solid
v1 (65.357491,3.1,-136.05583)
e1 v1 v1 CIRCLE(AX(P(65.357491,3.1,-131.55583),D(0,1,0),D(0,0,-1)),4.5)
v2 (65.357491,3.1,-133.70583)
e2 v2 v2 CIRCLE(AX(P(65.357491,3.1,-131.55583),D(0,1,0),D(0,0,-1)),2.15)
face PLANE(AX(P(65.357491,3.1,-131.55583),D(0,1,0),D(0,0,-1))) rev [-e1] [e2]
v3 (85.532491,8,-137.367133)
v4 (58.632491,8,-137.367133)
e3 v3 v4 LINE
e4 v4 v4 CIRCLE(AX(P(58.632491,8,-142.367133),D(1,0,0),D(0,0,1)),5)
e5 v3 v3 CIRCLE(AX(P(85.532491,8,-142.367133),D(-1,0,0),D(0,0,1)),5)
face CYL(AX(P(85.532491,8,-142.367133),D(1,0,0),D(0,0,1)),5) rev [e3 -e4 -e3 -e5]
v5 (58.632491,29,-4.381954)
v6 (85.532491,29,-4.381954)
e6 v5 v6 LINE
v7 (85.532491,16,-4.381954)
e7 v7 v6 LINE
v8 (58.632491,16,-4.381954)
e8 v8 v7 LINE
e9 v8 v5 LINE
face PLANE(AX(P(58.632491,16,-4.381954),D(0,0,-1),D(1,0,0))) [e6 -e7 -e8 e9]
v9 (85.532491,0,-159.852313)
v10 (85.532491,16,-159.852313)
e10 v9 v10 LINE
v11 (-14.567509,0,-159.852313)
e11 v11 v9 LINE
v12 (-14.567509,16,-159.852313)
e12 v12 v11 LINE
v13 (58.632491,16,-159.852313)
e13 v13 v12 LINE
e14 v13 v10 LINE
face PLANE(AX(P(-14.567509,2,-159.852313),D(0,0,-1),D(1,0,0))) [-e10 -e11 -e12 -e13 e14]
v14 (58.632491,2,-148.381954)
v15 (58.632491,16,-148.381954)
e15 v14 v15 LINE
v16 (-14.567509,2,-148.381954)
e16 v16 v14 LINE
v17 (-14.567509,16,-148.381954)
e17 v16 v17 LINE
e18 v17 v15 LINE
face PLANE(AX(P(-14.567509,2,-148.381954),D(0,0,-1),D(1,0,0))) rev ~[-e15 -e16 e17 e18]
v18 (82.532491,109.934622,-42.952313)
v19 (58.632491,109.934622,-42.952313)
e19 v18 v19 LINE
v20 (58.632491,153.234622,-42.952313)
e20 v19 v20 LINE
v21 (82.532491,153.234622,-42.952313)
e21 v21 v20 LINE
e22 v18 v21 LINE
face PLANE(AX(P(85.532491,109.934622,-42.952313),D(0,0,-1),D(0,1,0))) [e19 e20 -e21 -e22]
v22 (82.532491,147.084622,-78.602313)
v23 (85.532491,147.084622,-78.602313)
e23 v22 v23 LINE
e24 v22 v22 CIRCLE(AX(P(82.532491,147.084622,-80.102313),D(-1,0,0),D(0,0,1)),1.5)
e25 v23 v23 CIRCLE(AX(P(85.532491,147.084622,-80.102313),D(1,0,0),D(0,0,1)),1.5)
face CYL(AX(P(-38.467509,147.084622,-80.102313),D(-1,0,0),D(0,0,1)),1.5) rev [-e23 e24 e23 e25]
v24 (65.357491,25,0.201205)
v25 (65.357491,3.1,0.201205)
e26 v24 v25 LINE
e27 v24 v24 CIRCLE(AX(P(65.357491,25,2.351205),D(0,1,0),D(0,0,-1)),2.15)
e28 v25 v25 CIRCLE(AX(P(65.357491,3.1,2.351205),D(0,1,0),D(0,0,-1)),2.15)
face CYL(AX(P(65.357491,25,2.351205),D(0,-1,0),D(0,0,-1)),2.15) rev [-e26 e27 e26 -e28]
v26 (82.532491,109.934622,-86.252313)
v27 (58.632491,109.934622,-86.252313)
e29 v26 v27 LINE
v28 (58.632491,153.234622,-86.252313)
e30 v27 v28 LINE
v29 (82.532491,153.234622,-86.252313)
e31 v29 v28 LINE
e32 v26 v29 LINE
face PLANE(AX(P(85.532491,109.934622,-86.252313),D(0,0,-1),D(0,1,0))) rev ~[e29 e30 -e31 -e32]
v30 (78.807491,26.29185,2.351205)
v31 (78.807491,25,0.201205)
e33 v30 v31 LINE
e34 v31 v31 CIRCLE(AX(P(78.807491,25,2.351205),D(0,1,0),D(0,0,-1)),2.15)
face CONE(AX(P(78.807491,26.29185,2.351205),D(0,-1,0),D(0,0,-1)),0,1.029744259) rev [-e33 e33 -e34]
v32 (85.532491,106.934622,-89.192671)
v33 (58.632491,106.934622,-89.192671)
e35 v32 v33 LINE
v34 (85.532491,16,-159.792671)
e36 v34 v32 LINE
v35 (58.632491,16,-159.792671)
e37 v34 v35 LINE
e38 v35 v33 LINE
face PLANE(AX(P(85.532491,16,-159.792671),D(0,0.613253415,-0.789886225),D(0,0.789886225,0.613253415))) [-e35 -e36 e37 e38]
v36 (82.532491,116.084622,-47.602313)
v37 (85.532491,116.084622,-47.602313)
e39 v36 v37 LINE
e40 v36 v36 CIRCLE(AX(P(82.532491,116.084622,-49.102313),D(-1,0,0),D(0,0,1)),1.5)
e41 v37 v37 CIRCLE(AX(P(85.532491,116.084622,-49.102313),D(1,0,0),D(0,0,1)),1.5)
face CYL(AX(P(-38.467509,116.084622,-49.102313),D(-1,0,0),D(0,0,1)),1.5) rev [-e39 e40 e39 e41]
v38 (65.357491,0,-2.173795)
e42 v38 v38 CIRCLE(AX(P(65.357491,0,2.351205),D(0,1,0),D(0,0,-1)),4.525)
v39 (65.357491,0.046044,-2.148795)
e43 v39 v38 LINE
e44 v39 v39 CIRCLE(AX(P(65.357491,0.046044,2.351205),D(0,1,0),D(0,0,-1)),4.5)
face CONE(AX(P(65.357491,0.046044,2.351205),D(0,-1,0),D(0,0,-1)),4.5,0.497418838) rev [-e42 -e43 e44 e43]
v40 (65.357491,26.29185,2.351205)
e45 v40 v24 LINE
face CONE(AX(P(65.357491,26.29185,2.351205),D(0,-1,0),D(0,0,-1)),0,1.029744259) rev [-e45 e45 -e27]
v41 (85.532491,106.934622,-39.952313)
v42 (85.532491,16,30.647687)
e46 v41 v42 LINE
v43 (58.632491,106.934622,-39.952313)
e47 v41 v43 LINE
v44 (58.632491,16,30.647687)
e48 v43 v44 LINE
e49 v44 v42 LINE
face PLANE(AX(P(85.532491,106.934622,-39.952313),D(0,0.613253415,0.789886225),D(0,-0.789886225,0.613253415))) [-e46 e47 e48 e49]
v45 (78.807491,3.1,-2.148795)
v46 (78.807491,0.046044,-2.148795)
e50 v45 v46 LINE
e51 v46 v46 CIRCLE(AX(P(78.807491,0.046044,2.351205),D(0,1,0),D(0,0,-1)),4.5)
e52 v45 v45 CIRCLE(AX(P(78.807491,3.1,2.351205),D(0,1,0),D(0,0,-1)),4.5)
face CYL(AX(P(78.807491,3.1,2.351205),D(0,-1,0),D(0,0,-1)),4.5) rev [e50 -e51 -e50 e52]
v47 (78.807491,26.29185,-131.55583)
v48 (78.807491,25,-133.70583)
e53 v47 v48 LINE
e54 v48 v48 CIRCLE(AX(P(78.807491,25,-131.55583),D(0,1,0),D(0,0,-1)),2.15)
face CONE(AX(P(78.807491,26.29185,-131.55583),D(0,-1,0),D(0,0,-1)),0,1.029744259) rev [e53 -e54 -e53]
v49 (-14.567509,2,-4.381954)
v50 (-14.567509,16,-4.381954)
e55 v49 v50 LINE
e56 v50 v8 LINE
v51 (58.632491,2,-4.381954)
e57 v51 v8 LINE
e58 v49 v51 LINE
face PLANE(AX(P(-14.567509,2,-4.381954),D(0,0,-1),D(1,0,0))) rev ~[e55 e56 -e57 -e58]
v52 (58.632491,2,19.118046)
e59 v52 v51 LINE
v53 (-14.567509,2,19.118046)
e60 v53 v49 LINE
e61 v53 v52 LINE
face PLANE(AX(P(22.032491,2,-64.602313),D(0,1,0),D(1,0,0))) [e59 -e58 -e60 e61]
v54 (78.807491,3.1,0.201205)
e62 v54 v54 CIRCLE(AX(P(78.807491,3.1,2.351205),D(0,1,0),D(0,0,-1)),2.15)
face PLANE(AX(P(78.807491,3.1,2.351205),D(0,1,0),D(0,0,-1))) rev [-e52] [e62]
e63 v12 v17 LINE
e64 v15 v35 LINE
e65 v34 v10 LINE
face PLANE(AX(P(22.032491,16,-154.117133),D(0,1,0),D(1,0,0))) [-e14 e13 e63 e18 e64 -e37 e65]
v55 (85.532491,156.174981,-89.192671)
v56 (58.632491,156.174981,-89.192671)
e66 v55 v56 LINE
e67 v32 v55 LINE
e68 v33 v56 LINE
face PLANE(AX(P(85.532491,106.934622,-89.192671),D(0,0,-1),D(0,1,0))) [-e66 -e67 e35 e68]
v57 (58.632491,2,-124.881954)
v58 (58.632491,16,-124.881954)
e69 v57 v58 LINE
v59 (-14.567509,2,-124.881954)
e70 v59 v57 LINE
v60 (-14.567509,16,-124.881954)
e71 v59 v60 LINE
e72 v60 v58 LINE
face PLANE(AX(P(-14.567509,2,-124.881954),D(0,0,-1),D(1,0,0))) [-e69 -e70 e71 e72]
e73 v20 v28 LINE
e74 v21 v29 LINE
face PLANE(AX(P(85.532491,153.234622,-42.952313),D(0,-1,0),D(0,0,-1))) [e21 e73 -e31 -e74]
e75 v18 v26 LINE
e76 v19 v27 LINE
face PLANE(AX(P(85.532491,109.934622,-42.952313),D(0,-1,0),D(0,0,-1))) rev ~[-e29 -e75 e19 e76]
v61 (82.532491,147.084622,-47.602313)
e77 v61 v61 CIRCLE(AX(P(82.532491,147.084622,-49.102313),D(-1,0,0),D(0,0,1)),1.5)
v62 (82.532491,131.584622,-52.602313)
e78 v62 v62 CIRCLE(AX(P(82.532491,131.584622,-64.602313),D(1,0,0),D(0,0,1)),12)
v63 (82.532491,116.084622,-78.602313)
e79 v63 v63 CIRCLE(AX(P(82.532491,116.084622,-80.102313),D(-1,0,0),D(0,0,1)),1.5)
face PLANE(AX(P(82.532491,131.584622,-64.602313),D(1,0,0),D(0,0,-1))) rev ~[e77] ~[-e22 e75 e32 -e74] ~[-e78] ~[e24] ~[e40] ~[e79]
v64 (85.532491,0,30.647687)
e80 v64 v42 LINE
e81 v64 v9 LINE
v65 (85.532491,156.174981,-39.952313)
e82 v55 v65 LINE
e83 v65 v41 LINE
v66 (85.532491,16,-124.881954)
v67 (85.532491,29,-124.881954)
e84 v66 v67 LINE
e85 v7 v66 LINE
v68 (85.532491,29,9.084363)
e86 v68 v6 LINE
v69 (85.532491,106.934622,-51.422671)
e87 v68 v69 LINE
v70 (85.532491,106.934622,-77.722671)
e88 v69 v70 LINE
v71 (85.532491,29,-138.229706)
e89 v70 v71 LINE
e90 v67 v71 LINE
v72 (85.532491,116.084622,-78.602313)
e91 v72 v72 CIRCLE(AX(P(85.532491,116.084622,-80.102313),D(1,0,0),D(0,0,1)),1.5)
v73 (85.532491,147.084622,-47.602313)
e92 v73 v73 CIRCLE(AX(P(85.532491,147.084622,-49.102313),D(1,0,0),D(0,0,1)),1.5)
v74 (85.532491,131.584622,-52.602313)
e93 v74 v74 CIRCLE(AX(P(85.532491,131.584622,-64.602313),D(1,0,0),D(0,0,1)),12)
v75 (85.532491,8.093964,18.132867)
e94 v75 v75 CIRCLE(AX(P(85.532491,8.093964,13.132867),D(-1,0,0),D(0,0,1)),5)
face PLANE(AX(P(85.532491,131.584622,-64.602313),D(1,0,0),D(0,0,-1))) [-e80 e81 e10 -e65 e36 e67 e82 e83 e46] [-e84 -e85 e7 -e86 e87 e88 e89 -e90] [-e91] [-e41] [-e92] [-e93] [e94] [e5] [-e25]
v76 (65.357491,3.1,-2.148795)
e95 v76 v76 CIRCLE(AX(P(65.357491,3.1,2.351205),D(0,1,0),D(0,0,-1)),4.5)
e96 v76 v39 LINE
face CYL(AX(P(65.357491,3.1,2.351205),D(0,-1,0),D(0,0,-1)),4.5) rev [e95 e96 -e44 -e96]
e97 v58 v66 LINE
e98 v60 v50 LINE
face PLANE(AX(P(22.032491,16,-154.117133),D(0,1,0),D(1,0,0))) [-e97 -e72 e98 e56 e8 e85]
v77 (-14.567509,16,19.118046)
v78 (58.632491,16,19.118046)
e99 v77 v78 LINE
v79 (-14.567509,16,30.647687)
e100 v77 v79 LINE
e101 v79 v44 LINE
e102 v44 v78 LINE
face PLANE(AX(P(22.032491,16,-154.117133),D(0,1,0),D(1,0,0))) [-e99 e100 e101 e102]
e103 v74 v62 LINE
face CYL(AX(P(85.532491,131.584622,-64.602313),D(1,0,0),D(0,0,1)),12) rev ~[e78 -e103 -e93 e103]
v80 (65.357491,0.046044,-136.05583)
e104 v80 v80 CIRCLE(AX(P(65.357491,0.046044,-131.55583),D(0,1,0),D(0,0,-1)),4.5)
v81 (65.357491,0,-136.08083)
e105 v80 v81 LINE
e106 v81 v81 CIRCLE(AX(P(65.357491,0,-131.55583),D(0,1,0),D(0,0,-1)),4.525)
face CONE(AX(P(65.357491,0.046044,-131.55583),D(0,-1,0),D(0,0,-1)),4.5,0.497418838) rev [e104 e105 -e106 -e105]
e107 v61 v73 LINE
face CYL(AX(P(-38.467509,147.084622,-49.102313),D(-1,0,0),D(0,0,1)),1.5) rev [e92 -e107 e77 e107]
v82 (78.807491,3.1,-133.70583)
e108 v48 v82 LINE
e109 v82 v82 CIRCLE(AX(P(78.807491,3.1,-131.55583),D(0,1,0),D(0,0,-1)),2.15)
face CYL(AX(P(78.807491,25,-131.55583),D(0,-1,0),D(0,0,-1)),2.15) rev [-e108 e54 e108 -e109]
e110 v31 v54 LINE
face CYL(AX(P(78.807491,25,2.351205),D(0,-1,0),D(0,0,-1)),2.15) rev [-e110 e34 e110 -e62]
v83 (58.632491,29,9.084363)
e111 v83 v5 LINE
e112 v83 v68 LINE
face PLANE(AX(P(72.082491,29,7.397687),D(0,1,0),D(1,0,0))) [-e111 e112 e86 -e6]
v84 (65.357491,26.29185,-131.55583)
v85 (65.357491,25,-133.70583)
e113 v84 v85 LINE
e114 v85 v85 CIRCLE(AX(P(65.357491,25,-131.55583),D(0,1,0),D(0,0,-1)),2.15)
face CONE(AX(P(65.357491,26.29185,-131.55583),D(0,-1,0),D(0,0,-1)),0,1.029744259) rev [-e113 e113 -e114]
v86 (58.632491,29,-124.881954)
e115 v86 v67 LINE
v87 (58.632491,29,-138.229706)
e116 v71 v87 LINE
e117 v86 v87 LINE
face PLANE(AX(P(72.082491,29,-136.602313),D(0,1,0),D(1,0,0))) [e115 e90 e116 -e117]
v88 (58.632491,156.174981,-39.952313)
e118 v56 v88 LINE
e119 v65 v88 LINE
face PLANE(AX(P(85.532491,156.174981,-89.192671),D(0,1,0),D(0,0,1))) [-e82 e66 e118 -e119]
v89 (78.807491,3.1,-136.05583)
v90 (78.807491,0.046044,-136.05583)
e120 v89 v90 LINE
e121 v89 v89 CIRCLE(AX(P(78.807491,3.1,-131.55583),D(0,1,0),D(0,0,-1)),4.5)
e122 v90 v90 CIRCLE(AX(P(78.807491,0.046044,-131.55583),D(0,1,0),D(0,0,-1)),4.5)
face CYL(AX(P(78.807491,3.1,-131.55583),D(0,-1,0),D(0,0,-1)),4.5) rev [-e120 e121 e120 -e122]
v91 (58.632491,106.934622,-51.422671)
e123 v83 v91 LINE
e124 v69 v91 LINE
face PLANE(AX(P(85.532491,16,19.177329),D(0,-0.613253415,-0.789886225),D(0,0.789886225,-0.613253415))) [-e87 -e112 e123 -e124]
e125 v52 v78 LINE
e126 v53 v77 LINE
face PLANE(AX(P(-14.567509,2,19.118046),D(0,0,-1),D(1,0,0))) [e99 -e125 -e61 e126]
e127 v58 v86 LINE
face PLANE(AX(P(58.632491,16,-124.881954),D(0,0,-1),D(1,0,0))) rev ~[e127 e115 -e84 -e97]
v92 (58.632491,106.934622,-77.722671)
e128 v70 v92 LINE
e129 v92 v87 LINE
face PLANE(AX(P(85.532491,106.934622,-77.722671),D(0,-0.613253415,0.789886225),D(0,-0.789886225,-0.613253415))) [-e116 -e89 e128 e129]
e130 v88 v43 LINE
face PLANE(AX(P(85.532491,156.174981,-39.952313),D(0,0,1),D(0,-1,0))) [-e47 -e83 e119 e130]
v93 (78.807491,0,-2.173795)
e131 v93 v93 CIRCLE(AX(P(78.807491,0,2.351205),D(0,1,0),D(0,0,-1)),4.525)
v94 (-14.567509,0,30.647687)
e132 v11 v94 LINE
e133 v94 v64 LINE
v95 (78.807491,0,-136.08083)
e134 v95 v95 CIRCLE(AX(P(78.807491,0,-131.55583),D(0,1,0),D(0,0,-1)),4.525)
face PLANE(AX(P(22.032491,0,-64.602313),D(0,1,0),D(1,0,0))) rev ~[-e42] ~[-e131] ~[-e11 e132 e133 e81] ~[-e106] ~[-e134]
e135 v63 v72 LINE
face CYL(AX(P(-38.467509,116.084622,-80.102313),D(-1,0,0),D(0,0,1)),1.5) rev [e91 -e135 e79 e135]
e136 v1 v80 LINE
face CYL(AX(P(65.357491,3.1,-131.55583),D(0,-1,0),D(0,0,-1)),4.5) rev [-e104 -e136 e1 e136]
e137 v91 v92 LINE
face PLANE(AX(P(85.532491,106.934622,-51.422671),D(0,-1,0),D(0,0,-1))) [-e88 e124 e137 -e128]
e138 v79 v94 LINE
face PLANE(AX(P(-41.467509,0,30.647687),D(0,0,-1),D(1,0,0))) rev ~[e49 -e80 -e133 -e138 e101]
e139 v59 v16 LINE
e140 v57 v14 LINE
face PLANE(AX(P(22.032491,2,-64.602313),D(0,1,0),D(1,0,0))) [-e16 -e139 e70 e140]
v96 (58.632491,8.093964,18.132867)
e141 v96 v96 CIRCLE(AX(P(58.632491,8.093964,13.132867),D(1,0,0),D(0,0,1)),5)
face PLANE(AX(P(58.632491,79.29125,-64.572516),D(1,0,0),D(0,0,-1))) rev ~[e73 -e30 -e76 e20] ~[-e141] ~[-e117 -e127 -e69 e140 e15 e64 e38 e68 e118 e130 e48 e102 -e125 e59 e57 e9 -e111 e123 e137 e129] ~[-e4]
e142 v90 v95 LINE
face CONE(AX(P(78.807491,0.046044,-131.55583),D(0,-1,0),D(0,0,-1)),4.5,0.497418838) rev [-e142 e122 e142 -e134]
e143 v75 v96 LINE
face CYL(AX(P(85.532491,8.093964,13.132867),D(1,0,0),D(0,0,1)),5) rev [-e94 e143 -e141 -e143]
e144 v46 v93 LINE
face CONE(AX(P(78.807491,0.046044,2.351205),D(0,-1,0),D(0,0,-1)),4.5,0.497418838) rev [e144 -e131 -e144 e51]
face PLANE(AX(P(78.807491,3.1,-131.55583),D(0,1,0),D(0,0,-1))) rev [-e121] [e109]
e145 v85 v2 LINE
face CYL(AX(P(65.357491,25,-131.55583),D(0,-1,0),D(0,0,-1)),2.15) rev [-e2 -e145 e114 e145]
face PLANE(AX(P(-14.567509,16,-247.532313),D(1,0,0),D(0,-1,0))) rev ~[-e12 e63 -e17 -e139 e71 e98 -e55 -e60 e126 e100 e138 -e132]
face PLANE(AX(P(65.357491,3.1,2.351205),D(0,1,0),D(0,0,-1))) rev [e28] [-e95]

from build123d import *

# Parameters (mm, degrees)
SKETCH1_W                                     = 127
SKETCH1_H                                     = 190.5
BOSS_EXTRUDE1_DEPTH                           = 16
SKETCH3_W                                     = 73.2
SKETCH3_H                                     = 190.5
CUT_EXTRUDE2_DEPTH                            = 14
SKETCH6_W                                     = 73.2
SKETCH6_H                                     = 120.5
SKETCH6_H_2                                   = 11.470358649
SKETCH6_H_3                                   = 11.529641351
BOSS_EXTRUDE5_DEPTH                           = 14
SKETCH9_W                                     = 49.3
SKETCH9_H                                     = 49.3
SKETCH9_W_2                                   = 43.3
SKETCH9_H_2                                   = 43.3
BOSS_EXTRUDE7_DEPTH                           = 26.9
SKETCH9_5_W                                   = 43.3
SKETCH9_5_H                                   = 43.3
SKETCH9_5_W_2                                 = 31.3
SKETCH9_5_H_2                                 = 31.3
SKETCH9_5_R                                   = 12
BOSS_EXTRUDE8_DEPTH                           = 3
SKETCH10_W                                    = 43.3
SKETCH10_H                                    = 43.3
BOSS_EXTRUDE11_DEPTH                          = 26.9
SKETCH10_5_W                                  = 43.3
SKETCH10_5_H                                  = 43.3
SKETCH10_5_W_2                                = 31.3
SKETCH10_5_H_2                                = 31.3
SKETCH10_5_R                                  = 12
BOSS_EXTRUDE12_DEPTH                          = 3
SKETCH12_R                                    = 1.5
CUT_EXTRUDE4_DEPTH                            = 124
SKETCH13_W                                    = 26.9
SKETCH13_H                                    = 23.5
SKETCH13_H_2                                  = 23.559282703
SKETCH13_H_3                                  = 23.440717297
BOSS_EXTRUDE13_DEPTH                          = 13
CBORE_FOR_M4_PAN_HEAD_MACHINE_SCREW1_AT_COUNT = 2
CBORE_FOR_M4_PAN_HEAD_MACHINE_SCREW1_AT_PITCH = 13.45
CBORE_FOR_M4_PAN_HEAD_MACHINE_SCREW1_2_COUNT  = 2
CBORE_FOR_M4_PAN_HEAD_MACHINE_SCREW1_2_PITCH  = 86.65000507
CBORE_FOR_M4_PAN_HEAD_MACHINE_SCREW1_3_COUNT  = 2
CBORE_FOR_M4_PAN_HEAD_MACHINE_SCREW1_3_PITCH  = 100.100004389
CBORE_FOR_M4_PAN_HEAD_MACHINE_SCREW1_4_COUNT  = 2
CBORE_FOR_M4_PAN_HEAD_MACHINE_SCREW1_4_PITCH  = 167.16209619
CBORE_FOR_M4_PAN_HEAD_MACHINE_SCREW1_5_COUNT  = 2
CBORE_FOR_M4_PAN_HEAD_MACHINE_SCREW1_5_PITCH  = 159.472188492
CBORE_FOR_M4_PAN_HEAD_MACHINE_SCREW1_6_COUNT  = 2
CBORE_FOR_M4_PAN_HEAD_MACHINE_SCREW1_6_PITCH  = 133.877393172
CBORE_FOR_M4_PAN_HEAD_MACHINE_SCREW1_7_COUNT  = 2
CBORE_FOR_M4_PAN_HEAD_MACHINE_SCREW1_7_PITCH  = 134.551324417
CUT_EXTRUDE8_START                            = -127
SKETCH27_R                                    = 5
CUT_EXTRUDE8_DEPTH                            = 127
SPLIT1_SURFACE_1_BACK                         = 278.18
SPLIT1_SURFACE_1_DEPTH                        = 556.36


with BuildPart() as part:
    # Sketch1 → Boss-Extrude1 (new body)
    with BuildSketch(Plane(origin=(0, 0, 0), x_dir=(1, 0, 0), z_dir=(0, 1, 0))):
        with Locations((22.032491394, 64.602312685)):
            Rectangle(SKETCH1_W, SKETCH1_H)
    extrude(amount=BOSS_EXTRUDE1_DEPTH)

    # Sketch3 → Cut-Extrude2 (cut)
    with BuildSketch(Plane(origin=(0, 16, 0), x_dir=(1, 0, 0), z_dir=(0, 1, 0))):
        with Locations((22.032491394, 64.602312685)):
            Rectangle(SKETCH3_W, SKETCH3_H)
    extrude(amount=-CUT_EXTRUDE2_DEPTH, mode=Mode.SUBTRACT)

    # Sketch6 → Boss-Extrude5 (add)
    with BuildSketch(Plane(origin=(0, 2, 0), x_dir=(1, 0, 0), z_dir=(0, 1, 0))):
        with Locations((22.032491394, 64.631954036)):
            Rectangle(SKETCH6_W, SKETCH6_H)
        with Locations((22.032491394, 154.117133361)):
            Rectangle(SKETCH6_W, SKETCH6_H_2)
        with Locations((22.032491394, -24.88286664)):
            Rectangle(SKETCH6_W, SKETCH6_H_3)
    extrude(amount=BOSS_EXTRUDE5_DEPTH)

    # Sketch9 → Boss-Extrude7 (add)
    with BuildSketch(Plane.ZY.offset(41.467508606)):
        Polygon((-77.781954036, 106.934621953), (-89.252312685, 106.934621953), (-159.852312685, 16), (-148.381954036, 16), align=None)
        with Locations((-64.602312685, 131.584621953)):
            Rectangle(SKETCH9_W, SKETCH9_H)
        with Locations((-64.602312685, 131.584621953)):
            Rectangle(SKETCH9_W_2, SKETCH9_H_2, mode=Mode.SUBTRACT)
        Polygon((30.647687315, 16), (-39.952312685, 106.934621953), (-51.481954036, 106.934621953), (19.118045964, 16), align=None)
    extrude(amount=-BOSS_EXTRUDE7_DEPTH)

    # Sketch9<5> → Boss-Extrude8 (add)
    with BuildSketch(Plane.ZY.offset(41.467508606)):
        with Locations((-64.602312685, 131.584621953)):
            Rectangle(SKETCH9_5_W, SKETCH9_5_H)
        with Locations((-64.602312685, 131.584621953)):
            Rectangle(SKETCH9_5_W_2, SKETCH9_5_H_2, mode=Mode.SUBTRACT)
        with Locations((-64.602312685, 131.584621953)):
            Rectangle(SKETCH9_5_W_2, SKETCH9_5_H_2)
        with Locations((-64.602312685, 131.584621953)):
            Circle(SKETCH9_5_R, mode=Mode.SUBTRACT)
    extrude(amount=-BOSS_EXTRUDE8_DEPTH)

    # Sketch10 → Boss-Extrude11 (add)
    with BuildSketch(Plane(origin=(85.532491394, 0, 0), x_dir=(0, 0, -1), z_dir=(1, 0, 0))):
        Polygon((89.192671333, 156.174980602), (39.952312685, 156.174980602), (39.952312685, 106.934621953), (-30.647687315, 16), (-19.177328667, 16), (51.422671333, 106.934621953), (77.722671333, 106.934621953), (148.322671333, 16), (159.792671333, 16), (89.192671333, 106.934621953), align=None)
        with Locations((64.602312685, 131.584621953)):
            Rectangle(SKETCH10_W, SKETCH10_H, mode=Mode.SUBTRACT)
    extrude(amount=-BOSS_EXTRUDE11_DEPTH)

    # Sketch10<5> → Boss-Extrude12 (add)
    with BuildSketch(Plane(origin=(85.532491394, 0, 0), x_dir=(0, 0, -1), z_dir=(1, 0, 0))):
        with Locations((64.602312685, 131.584621953)):
            Rectangle(SKETCH10_5_W, SKETCH10_5_H)
        with Locations((64.602312685, 131.584621953)):
            Rectangle(SKETCH10_5_W_2, SKETCH10_5_H_2, mode=Mode.SUBTRACT)
        with Locations((64.602312685, 131.584621953)):
            Rectangle(SKETCH10_5_W_2, SKETCH10_5_H_2)
        with Locations(Location((64.602312685, 131.584621953, 0), (0, 0, 180))):
            Circle(SKETCH10_5_R, mode=Mode.SUBTRACT)
    extrude(amount=-BOSS_EXTRUDE12_DEPTH)

    # Sketch12 → Cut-Extrude4 (cut)
    with BuildSketch(Plane(origin=(-38.467508606, 0, 0), x_dir=(0, 0, -1), z_dir=(1, 0, 0))):
        with Locations(Location((80.102312685, 147.084621953, 0), (0, 0, 180))):
            Circle(SKETCH12_R)
        with Locations(Location((49.102312685, 147.084621953, 0), (0, 0, 180))):
            Circle(SKETCH12_R)
        with Locations(Location((49.102312685, 116.084621953, 0), (0, 0, 180))):
            Circle(SKETCH12_R)
        with Locations(Location((80.102312685, 116.084621953, 0), (0, 0, 180))):
            Circle(SKETCH12_R)
    extrude(amount=CUT_EXTRUDE4_DEPTH, mode=Mode.SUBTRACT)

    # Sketch13 → Boss-Extrude13 (add)
    with BuildSketch(Plane(origin=(0, 16, 0), x_dir=(1, 0, 0), z_dir=(0, 1, 0))):
        with Locations((-28.017508606, 136.631954036)):
            Rectangle(SKETCH13_W, SKETCH13_H)
        with Locations((-28.017508606, -7.368045964)):
            Rectangle(SKETCH13_W, SKETCH13_H)
        with Locations((72.082491394, -7.397687316)):
            Rectangle(SKETCH13_W, SKETCH13_H_2)
        with Locations((72.082491394, 136.602312685)):
            Rectangle(SKETCH13_W, SKETCH13_H_3)
    extrude(amount=BOSS_EXTRUDE13_DEPTH)

    # Sketch24 → CBORE for M4 Pan Head Machine Screw1 (revolve, cut)
    with BuildSketch(Plane(origin=(-21.292508606, 0, 2.321563226), x_dir=(0, 0, -1), z_dir=(1, 0, 0))):
        Polygon((0, 0), (0, 26.291850331), (2.15, 25), (2.15, 3.1), (4.5, 3.1), (4.5, 0.046044272), (4.525, 0), align=None)
    cbore_for_m4_pan_head_machine_screw1 = revolve(axis=Axis((-21.292508606, -6.35, 2.321563226), (0, 1, 0)), mode=Mode.SUBTRACT)

    # CBORE for M4 Pan Head Machine Screw1 at: CBORE for M4 Pan Head Machine Screw1 ×2
    with Locations(*[(-i * CBORE_FOR_M4_PAN_HEAD_MACHINE_SCREW1_AT_PITCH, 0, 0) for i in range(1, CBORE_FOR_M4_PAN_HEAD_MACHINE_SCREW1_AT_COUNT)]):
        add(cbore_for_m4_pan_head_machine_screw1, mode=Mode.SUBTRACT)

    # CBORE for M4 Pan Head Machine Screw1 2: CBORE for M4 Pan Head Machine Screw1 ×2
    with Locations(*[Vector(0.9999999414901701, 0, 0.00034208135925630124) * (i * CBORE_FOR_M4_PAN_HEAD_MACHINE_SCREW1_2_PITCH) for i in range(1, CBORE_FOR_M4_PAN_HEAD_MACHINE_SCREW1_2_COUNT)]):
        add(cbore_for_m4_pan_head_machine_screw1, mode=Mode.SUBTRACT)

    # CBORE for M4 Pan Head Machine Screw1 3: CBORE for M4 Pan Head Machine Screw1 ×2
    with Locations(*[Vector(0.9999999561572464, 0, 0.0002961173847583374) * (i * CBORE_FOR_M4_PAN_HEAD_MACHINE_SCREW1_3_PITCH) for i in range(1, CBORE_FOR_M4_PAN_HEAD_MACHINE_SCREW1_3_COUNT)]):
        add(cbore_for_m4_pan_head_machine_screw1, mode=Mode.SUBTRACT)

    # CBORE for M4 Pan Head Machine Screw1 4: CBORE for M4 Pan Head Machine Screw1 ×2
    with Locations(*[Vector(0.5988199614729853, 0, -0.8008836705424156) * (i * CBORE_FOR_M4_PAN_HEAD_MACHINE_SCREW1_4_PITCH) for i in range(1, CBORE_FOR_M4_PAN_HEAD_MACHINE_SCREW1_4_COUNT)]):
        add(cbore_for_m4_pan_head_machine_screw1, mode=Mode.SUBTRACT)

    # CBORE for M4 Pan Head Machine Screw1 5: CBORE for M4 Pan Head Machine Screw1 ×2
    with Locations(*[Vector(0.5433549311591849, 0, -0.8395030784845268) * (i * CBORE_FOR_M4_PAN_HEAD_MACHINE_SCREW1_5_PITCH) for i in range(1, CBORE_FOR_M4_PAN_HEAD_MACHINE_SCREW1_5_COUNT)]):
        add(cbore_for_m4_pan_head_machine_screw1, mode=Mode.SUBTRACT)

    # CBORE for M4 Pan Head Machine Screw1 6: CBORE for M4 Pan Head Machine Screw1 ×2
    with Locations(*[(0, 0, -i * CBORE_FOR_M4_PAN_HEAD_MACHINE_SCREW1_6_PITCH) for i in range(1, CBORE_FOR_M4_PAN_HEAD_MACHINE_SCREW1_6_COUNT)]):
        add(cbore_for_m4_pan_head_machine_screw1, mode=Mode.SUBTRACT)

    # CBORE for M4 Pan Head Machine Screw1 7: CBORE for M4 Pan Head Machine Screw1 ×2
    with Locations(*[Vector(-0.09996185513764777, 0, -0.9949912700709691) * (i * CBORE_FOR_M4_PAN_HEAD_MACHINE_SCREW1_7_PITCH) for i in range(1, CBORE_FOR_M4_PAN_HEAD_MACHINE_SCREW1_7_COUNT)]):
        add(cbore_for_m4_pan_head_machine_screw1, mode=Mode.SUBTRACT)

    # Sketch27 → Cut-Extrude8 (cut)
    with BuildSketch(Plane.ZY.offset(41.467508606).offset(CUT_EXTRUDE8_START)):
        with Locations((-142.36713336, 8)):
            Circle(SKETCH27_R)
        with Locations((13.13286664, 8.093964388)):
            Circle(SKETCH27_R)
    extrude(amount=CUT_EXTRUDE8_DEPTH, mode=Mode.SUBTRACT)

    # Split1: cut with a surface, the side it looks to stays
    # Split1 surface: a surface, the sketch's curves swept straight by 556.36 mm
    with BuildLine(Plane.XY.offset(30.647687315).offset(-SPLIT1_SURFACE_1_BACK), mode=Mode.PRIVATE) as split1_surface_1_path:
        Line((-14.567508606, 16), (-14.567508606, 0))
    split1_surface_1 = Shell.extrude(split1_surface_1_path.wire(), (0 * SPLIT1_SURFACE_1_DEPTH, 0 * SPLIT1_SURFACE_1_DEPTH, 1 * SPLIT1_SURFACE_1_DEPTH))
    split(bisect_by=split1_surface_1, keep=Keep.TOP)


solid = part.part
